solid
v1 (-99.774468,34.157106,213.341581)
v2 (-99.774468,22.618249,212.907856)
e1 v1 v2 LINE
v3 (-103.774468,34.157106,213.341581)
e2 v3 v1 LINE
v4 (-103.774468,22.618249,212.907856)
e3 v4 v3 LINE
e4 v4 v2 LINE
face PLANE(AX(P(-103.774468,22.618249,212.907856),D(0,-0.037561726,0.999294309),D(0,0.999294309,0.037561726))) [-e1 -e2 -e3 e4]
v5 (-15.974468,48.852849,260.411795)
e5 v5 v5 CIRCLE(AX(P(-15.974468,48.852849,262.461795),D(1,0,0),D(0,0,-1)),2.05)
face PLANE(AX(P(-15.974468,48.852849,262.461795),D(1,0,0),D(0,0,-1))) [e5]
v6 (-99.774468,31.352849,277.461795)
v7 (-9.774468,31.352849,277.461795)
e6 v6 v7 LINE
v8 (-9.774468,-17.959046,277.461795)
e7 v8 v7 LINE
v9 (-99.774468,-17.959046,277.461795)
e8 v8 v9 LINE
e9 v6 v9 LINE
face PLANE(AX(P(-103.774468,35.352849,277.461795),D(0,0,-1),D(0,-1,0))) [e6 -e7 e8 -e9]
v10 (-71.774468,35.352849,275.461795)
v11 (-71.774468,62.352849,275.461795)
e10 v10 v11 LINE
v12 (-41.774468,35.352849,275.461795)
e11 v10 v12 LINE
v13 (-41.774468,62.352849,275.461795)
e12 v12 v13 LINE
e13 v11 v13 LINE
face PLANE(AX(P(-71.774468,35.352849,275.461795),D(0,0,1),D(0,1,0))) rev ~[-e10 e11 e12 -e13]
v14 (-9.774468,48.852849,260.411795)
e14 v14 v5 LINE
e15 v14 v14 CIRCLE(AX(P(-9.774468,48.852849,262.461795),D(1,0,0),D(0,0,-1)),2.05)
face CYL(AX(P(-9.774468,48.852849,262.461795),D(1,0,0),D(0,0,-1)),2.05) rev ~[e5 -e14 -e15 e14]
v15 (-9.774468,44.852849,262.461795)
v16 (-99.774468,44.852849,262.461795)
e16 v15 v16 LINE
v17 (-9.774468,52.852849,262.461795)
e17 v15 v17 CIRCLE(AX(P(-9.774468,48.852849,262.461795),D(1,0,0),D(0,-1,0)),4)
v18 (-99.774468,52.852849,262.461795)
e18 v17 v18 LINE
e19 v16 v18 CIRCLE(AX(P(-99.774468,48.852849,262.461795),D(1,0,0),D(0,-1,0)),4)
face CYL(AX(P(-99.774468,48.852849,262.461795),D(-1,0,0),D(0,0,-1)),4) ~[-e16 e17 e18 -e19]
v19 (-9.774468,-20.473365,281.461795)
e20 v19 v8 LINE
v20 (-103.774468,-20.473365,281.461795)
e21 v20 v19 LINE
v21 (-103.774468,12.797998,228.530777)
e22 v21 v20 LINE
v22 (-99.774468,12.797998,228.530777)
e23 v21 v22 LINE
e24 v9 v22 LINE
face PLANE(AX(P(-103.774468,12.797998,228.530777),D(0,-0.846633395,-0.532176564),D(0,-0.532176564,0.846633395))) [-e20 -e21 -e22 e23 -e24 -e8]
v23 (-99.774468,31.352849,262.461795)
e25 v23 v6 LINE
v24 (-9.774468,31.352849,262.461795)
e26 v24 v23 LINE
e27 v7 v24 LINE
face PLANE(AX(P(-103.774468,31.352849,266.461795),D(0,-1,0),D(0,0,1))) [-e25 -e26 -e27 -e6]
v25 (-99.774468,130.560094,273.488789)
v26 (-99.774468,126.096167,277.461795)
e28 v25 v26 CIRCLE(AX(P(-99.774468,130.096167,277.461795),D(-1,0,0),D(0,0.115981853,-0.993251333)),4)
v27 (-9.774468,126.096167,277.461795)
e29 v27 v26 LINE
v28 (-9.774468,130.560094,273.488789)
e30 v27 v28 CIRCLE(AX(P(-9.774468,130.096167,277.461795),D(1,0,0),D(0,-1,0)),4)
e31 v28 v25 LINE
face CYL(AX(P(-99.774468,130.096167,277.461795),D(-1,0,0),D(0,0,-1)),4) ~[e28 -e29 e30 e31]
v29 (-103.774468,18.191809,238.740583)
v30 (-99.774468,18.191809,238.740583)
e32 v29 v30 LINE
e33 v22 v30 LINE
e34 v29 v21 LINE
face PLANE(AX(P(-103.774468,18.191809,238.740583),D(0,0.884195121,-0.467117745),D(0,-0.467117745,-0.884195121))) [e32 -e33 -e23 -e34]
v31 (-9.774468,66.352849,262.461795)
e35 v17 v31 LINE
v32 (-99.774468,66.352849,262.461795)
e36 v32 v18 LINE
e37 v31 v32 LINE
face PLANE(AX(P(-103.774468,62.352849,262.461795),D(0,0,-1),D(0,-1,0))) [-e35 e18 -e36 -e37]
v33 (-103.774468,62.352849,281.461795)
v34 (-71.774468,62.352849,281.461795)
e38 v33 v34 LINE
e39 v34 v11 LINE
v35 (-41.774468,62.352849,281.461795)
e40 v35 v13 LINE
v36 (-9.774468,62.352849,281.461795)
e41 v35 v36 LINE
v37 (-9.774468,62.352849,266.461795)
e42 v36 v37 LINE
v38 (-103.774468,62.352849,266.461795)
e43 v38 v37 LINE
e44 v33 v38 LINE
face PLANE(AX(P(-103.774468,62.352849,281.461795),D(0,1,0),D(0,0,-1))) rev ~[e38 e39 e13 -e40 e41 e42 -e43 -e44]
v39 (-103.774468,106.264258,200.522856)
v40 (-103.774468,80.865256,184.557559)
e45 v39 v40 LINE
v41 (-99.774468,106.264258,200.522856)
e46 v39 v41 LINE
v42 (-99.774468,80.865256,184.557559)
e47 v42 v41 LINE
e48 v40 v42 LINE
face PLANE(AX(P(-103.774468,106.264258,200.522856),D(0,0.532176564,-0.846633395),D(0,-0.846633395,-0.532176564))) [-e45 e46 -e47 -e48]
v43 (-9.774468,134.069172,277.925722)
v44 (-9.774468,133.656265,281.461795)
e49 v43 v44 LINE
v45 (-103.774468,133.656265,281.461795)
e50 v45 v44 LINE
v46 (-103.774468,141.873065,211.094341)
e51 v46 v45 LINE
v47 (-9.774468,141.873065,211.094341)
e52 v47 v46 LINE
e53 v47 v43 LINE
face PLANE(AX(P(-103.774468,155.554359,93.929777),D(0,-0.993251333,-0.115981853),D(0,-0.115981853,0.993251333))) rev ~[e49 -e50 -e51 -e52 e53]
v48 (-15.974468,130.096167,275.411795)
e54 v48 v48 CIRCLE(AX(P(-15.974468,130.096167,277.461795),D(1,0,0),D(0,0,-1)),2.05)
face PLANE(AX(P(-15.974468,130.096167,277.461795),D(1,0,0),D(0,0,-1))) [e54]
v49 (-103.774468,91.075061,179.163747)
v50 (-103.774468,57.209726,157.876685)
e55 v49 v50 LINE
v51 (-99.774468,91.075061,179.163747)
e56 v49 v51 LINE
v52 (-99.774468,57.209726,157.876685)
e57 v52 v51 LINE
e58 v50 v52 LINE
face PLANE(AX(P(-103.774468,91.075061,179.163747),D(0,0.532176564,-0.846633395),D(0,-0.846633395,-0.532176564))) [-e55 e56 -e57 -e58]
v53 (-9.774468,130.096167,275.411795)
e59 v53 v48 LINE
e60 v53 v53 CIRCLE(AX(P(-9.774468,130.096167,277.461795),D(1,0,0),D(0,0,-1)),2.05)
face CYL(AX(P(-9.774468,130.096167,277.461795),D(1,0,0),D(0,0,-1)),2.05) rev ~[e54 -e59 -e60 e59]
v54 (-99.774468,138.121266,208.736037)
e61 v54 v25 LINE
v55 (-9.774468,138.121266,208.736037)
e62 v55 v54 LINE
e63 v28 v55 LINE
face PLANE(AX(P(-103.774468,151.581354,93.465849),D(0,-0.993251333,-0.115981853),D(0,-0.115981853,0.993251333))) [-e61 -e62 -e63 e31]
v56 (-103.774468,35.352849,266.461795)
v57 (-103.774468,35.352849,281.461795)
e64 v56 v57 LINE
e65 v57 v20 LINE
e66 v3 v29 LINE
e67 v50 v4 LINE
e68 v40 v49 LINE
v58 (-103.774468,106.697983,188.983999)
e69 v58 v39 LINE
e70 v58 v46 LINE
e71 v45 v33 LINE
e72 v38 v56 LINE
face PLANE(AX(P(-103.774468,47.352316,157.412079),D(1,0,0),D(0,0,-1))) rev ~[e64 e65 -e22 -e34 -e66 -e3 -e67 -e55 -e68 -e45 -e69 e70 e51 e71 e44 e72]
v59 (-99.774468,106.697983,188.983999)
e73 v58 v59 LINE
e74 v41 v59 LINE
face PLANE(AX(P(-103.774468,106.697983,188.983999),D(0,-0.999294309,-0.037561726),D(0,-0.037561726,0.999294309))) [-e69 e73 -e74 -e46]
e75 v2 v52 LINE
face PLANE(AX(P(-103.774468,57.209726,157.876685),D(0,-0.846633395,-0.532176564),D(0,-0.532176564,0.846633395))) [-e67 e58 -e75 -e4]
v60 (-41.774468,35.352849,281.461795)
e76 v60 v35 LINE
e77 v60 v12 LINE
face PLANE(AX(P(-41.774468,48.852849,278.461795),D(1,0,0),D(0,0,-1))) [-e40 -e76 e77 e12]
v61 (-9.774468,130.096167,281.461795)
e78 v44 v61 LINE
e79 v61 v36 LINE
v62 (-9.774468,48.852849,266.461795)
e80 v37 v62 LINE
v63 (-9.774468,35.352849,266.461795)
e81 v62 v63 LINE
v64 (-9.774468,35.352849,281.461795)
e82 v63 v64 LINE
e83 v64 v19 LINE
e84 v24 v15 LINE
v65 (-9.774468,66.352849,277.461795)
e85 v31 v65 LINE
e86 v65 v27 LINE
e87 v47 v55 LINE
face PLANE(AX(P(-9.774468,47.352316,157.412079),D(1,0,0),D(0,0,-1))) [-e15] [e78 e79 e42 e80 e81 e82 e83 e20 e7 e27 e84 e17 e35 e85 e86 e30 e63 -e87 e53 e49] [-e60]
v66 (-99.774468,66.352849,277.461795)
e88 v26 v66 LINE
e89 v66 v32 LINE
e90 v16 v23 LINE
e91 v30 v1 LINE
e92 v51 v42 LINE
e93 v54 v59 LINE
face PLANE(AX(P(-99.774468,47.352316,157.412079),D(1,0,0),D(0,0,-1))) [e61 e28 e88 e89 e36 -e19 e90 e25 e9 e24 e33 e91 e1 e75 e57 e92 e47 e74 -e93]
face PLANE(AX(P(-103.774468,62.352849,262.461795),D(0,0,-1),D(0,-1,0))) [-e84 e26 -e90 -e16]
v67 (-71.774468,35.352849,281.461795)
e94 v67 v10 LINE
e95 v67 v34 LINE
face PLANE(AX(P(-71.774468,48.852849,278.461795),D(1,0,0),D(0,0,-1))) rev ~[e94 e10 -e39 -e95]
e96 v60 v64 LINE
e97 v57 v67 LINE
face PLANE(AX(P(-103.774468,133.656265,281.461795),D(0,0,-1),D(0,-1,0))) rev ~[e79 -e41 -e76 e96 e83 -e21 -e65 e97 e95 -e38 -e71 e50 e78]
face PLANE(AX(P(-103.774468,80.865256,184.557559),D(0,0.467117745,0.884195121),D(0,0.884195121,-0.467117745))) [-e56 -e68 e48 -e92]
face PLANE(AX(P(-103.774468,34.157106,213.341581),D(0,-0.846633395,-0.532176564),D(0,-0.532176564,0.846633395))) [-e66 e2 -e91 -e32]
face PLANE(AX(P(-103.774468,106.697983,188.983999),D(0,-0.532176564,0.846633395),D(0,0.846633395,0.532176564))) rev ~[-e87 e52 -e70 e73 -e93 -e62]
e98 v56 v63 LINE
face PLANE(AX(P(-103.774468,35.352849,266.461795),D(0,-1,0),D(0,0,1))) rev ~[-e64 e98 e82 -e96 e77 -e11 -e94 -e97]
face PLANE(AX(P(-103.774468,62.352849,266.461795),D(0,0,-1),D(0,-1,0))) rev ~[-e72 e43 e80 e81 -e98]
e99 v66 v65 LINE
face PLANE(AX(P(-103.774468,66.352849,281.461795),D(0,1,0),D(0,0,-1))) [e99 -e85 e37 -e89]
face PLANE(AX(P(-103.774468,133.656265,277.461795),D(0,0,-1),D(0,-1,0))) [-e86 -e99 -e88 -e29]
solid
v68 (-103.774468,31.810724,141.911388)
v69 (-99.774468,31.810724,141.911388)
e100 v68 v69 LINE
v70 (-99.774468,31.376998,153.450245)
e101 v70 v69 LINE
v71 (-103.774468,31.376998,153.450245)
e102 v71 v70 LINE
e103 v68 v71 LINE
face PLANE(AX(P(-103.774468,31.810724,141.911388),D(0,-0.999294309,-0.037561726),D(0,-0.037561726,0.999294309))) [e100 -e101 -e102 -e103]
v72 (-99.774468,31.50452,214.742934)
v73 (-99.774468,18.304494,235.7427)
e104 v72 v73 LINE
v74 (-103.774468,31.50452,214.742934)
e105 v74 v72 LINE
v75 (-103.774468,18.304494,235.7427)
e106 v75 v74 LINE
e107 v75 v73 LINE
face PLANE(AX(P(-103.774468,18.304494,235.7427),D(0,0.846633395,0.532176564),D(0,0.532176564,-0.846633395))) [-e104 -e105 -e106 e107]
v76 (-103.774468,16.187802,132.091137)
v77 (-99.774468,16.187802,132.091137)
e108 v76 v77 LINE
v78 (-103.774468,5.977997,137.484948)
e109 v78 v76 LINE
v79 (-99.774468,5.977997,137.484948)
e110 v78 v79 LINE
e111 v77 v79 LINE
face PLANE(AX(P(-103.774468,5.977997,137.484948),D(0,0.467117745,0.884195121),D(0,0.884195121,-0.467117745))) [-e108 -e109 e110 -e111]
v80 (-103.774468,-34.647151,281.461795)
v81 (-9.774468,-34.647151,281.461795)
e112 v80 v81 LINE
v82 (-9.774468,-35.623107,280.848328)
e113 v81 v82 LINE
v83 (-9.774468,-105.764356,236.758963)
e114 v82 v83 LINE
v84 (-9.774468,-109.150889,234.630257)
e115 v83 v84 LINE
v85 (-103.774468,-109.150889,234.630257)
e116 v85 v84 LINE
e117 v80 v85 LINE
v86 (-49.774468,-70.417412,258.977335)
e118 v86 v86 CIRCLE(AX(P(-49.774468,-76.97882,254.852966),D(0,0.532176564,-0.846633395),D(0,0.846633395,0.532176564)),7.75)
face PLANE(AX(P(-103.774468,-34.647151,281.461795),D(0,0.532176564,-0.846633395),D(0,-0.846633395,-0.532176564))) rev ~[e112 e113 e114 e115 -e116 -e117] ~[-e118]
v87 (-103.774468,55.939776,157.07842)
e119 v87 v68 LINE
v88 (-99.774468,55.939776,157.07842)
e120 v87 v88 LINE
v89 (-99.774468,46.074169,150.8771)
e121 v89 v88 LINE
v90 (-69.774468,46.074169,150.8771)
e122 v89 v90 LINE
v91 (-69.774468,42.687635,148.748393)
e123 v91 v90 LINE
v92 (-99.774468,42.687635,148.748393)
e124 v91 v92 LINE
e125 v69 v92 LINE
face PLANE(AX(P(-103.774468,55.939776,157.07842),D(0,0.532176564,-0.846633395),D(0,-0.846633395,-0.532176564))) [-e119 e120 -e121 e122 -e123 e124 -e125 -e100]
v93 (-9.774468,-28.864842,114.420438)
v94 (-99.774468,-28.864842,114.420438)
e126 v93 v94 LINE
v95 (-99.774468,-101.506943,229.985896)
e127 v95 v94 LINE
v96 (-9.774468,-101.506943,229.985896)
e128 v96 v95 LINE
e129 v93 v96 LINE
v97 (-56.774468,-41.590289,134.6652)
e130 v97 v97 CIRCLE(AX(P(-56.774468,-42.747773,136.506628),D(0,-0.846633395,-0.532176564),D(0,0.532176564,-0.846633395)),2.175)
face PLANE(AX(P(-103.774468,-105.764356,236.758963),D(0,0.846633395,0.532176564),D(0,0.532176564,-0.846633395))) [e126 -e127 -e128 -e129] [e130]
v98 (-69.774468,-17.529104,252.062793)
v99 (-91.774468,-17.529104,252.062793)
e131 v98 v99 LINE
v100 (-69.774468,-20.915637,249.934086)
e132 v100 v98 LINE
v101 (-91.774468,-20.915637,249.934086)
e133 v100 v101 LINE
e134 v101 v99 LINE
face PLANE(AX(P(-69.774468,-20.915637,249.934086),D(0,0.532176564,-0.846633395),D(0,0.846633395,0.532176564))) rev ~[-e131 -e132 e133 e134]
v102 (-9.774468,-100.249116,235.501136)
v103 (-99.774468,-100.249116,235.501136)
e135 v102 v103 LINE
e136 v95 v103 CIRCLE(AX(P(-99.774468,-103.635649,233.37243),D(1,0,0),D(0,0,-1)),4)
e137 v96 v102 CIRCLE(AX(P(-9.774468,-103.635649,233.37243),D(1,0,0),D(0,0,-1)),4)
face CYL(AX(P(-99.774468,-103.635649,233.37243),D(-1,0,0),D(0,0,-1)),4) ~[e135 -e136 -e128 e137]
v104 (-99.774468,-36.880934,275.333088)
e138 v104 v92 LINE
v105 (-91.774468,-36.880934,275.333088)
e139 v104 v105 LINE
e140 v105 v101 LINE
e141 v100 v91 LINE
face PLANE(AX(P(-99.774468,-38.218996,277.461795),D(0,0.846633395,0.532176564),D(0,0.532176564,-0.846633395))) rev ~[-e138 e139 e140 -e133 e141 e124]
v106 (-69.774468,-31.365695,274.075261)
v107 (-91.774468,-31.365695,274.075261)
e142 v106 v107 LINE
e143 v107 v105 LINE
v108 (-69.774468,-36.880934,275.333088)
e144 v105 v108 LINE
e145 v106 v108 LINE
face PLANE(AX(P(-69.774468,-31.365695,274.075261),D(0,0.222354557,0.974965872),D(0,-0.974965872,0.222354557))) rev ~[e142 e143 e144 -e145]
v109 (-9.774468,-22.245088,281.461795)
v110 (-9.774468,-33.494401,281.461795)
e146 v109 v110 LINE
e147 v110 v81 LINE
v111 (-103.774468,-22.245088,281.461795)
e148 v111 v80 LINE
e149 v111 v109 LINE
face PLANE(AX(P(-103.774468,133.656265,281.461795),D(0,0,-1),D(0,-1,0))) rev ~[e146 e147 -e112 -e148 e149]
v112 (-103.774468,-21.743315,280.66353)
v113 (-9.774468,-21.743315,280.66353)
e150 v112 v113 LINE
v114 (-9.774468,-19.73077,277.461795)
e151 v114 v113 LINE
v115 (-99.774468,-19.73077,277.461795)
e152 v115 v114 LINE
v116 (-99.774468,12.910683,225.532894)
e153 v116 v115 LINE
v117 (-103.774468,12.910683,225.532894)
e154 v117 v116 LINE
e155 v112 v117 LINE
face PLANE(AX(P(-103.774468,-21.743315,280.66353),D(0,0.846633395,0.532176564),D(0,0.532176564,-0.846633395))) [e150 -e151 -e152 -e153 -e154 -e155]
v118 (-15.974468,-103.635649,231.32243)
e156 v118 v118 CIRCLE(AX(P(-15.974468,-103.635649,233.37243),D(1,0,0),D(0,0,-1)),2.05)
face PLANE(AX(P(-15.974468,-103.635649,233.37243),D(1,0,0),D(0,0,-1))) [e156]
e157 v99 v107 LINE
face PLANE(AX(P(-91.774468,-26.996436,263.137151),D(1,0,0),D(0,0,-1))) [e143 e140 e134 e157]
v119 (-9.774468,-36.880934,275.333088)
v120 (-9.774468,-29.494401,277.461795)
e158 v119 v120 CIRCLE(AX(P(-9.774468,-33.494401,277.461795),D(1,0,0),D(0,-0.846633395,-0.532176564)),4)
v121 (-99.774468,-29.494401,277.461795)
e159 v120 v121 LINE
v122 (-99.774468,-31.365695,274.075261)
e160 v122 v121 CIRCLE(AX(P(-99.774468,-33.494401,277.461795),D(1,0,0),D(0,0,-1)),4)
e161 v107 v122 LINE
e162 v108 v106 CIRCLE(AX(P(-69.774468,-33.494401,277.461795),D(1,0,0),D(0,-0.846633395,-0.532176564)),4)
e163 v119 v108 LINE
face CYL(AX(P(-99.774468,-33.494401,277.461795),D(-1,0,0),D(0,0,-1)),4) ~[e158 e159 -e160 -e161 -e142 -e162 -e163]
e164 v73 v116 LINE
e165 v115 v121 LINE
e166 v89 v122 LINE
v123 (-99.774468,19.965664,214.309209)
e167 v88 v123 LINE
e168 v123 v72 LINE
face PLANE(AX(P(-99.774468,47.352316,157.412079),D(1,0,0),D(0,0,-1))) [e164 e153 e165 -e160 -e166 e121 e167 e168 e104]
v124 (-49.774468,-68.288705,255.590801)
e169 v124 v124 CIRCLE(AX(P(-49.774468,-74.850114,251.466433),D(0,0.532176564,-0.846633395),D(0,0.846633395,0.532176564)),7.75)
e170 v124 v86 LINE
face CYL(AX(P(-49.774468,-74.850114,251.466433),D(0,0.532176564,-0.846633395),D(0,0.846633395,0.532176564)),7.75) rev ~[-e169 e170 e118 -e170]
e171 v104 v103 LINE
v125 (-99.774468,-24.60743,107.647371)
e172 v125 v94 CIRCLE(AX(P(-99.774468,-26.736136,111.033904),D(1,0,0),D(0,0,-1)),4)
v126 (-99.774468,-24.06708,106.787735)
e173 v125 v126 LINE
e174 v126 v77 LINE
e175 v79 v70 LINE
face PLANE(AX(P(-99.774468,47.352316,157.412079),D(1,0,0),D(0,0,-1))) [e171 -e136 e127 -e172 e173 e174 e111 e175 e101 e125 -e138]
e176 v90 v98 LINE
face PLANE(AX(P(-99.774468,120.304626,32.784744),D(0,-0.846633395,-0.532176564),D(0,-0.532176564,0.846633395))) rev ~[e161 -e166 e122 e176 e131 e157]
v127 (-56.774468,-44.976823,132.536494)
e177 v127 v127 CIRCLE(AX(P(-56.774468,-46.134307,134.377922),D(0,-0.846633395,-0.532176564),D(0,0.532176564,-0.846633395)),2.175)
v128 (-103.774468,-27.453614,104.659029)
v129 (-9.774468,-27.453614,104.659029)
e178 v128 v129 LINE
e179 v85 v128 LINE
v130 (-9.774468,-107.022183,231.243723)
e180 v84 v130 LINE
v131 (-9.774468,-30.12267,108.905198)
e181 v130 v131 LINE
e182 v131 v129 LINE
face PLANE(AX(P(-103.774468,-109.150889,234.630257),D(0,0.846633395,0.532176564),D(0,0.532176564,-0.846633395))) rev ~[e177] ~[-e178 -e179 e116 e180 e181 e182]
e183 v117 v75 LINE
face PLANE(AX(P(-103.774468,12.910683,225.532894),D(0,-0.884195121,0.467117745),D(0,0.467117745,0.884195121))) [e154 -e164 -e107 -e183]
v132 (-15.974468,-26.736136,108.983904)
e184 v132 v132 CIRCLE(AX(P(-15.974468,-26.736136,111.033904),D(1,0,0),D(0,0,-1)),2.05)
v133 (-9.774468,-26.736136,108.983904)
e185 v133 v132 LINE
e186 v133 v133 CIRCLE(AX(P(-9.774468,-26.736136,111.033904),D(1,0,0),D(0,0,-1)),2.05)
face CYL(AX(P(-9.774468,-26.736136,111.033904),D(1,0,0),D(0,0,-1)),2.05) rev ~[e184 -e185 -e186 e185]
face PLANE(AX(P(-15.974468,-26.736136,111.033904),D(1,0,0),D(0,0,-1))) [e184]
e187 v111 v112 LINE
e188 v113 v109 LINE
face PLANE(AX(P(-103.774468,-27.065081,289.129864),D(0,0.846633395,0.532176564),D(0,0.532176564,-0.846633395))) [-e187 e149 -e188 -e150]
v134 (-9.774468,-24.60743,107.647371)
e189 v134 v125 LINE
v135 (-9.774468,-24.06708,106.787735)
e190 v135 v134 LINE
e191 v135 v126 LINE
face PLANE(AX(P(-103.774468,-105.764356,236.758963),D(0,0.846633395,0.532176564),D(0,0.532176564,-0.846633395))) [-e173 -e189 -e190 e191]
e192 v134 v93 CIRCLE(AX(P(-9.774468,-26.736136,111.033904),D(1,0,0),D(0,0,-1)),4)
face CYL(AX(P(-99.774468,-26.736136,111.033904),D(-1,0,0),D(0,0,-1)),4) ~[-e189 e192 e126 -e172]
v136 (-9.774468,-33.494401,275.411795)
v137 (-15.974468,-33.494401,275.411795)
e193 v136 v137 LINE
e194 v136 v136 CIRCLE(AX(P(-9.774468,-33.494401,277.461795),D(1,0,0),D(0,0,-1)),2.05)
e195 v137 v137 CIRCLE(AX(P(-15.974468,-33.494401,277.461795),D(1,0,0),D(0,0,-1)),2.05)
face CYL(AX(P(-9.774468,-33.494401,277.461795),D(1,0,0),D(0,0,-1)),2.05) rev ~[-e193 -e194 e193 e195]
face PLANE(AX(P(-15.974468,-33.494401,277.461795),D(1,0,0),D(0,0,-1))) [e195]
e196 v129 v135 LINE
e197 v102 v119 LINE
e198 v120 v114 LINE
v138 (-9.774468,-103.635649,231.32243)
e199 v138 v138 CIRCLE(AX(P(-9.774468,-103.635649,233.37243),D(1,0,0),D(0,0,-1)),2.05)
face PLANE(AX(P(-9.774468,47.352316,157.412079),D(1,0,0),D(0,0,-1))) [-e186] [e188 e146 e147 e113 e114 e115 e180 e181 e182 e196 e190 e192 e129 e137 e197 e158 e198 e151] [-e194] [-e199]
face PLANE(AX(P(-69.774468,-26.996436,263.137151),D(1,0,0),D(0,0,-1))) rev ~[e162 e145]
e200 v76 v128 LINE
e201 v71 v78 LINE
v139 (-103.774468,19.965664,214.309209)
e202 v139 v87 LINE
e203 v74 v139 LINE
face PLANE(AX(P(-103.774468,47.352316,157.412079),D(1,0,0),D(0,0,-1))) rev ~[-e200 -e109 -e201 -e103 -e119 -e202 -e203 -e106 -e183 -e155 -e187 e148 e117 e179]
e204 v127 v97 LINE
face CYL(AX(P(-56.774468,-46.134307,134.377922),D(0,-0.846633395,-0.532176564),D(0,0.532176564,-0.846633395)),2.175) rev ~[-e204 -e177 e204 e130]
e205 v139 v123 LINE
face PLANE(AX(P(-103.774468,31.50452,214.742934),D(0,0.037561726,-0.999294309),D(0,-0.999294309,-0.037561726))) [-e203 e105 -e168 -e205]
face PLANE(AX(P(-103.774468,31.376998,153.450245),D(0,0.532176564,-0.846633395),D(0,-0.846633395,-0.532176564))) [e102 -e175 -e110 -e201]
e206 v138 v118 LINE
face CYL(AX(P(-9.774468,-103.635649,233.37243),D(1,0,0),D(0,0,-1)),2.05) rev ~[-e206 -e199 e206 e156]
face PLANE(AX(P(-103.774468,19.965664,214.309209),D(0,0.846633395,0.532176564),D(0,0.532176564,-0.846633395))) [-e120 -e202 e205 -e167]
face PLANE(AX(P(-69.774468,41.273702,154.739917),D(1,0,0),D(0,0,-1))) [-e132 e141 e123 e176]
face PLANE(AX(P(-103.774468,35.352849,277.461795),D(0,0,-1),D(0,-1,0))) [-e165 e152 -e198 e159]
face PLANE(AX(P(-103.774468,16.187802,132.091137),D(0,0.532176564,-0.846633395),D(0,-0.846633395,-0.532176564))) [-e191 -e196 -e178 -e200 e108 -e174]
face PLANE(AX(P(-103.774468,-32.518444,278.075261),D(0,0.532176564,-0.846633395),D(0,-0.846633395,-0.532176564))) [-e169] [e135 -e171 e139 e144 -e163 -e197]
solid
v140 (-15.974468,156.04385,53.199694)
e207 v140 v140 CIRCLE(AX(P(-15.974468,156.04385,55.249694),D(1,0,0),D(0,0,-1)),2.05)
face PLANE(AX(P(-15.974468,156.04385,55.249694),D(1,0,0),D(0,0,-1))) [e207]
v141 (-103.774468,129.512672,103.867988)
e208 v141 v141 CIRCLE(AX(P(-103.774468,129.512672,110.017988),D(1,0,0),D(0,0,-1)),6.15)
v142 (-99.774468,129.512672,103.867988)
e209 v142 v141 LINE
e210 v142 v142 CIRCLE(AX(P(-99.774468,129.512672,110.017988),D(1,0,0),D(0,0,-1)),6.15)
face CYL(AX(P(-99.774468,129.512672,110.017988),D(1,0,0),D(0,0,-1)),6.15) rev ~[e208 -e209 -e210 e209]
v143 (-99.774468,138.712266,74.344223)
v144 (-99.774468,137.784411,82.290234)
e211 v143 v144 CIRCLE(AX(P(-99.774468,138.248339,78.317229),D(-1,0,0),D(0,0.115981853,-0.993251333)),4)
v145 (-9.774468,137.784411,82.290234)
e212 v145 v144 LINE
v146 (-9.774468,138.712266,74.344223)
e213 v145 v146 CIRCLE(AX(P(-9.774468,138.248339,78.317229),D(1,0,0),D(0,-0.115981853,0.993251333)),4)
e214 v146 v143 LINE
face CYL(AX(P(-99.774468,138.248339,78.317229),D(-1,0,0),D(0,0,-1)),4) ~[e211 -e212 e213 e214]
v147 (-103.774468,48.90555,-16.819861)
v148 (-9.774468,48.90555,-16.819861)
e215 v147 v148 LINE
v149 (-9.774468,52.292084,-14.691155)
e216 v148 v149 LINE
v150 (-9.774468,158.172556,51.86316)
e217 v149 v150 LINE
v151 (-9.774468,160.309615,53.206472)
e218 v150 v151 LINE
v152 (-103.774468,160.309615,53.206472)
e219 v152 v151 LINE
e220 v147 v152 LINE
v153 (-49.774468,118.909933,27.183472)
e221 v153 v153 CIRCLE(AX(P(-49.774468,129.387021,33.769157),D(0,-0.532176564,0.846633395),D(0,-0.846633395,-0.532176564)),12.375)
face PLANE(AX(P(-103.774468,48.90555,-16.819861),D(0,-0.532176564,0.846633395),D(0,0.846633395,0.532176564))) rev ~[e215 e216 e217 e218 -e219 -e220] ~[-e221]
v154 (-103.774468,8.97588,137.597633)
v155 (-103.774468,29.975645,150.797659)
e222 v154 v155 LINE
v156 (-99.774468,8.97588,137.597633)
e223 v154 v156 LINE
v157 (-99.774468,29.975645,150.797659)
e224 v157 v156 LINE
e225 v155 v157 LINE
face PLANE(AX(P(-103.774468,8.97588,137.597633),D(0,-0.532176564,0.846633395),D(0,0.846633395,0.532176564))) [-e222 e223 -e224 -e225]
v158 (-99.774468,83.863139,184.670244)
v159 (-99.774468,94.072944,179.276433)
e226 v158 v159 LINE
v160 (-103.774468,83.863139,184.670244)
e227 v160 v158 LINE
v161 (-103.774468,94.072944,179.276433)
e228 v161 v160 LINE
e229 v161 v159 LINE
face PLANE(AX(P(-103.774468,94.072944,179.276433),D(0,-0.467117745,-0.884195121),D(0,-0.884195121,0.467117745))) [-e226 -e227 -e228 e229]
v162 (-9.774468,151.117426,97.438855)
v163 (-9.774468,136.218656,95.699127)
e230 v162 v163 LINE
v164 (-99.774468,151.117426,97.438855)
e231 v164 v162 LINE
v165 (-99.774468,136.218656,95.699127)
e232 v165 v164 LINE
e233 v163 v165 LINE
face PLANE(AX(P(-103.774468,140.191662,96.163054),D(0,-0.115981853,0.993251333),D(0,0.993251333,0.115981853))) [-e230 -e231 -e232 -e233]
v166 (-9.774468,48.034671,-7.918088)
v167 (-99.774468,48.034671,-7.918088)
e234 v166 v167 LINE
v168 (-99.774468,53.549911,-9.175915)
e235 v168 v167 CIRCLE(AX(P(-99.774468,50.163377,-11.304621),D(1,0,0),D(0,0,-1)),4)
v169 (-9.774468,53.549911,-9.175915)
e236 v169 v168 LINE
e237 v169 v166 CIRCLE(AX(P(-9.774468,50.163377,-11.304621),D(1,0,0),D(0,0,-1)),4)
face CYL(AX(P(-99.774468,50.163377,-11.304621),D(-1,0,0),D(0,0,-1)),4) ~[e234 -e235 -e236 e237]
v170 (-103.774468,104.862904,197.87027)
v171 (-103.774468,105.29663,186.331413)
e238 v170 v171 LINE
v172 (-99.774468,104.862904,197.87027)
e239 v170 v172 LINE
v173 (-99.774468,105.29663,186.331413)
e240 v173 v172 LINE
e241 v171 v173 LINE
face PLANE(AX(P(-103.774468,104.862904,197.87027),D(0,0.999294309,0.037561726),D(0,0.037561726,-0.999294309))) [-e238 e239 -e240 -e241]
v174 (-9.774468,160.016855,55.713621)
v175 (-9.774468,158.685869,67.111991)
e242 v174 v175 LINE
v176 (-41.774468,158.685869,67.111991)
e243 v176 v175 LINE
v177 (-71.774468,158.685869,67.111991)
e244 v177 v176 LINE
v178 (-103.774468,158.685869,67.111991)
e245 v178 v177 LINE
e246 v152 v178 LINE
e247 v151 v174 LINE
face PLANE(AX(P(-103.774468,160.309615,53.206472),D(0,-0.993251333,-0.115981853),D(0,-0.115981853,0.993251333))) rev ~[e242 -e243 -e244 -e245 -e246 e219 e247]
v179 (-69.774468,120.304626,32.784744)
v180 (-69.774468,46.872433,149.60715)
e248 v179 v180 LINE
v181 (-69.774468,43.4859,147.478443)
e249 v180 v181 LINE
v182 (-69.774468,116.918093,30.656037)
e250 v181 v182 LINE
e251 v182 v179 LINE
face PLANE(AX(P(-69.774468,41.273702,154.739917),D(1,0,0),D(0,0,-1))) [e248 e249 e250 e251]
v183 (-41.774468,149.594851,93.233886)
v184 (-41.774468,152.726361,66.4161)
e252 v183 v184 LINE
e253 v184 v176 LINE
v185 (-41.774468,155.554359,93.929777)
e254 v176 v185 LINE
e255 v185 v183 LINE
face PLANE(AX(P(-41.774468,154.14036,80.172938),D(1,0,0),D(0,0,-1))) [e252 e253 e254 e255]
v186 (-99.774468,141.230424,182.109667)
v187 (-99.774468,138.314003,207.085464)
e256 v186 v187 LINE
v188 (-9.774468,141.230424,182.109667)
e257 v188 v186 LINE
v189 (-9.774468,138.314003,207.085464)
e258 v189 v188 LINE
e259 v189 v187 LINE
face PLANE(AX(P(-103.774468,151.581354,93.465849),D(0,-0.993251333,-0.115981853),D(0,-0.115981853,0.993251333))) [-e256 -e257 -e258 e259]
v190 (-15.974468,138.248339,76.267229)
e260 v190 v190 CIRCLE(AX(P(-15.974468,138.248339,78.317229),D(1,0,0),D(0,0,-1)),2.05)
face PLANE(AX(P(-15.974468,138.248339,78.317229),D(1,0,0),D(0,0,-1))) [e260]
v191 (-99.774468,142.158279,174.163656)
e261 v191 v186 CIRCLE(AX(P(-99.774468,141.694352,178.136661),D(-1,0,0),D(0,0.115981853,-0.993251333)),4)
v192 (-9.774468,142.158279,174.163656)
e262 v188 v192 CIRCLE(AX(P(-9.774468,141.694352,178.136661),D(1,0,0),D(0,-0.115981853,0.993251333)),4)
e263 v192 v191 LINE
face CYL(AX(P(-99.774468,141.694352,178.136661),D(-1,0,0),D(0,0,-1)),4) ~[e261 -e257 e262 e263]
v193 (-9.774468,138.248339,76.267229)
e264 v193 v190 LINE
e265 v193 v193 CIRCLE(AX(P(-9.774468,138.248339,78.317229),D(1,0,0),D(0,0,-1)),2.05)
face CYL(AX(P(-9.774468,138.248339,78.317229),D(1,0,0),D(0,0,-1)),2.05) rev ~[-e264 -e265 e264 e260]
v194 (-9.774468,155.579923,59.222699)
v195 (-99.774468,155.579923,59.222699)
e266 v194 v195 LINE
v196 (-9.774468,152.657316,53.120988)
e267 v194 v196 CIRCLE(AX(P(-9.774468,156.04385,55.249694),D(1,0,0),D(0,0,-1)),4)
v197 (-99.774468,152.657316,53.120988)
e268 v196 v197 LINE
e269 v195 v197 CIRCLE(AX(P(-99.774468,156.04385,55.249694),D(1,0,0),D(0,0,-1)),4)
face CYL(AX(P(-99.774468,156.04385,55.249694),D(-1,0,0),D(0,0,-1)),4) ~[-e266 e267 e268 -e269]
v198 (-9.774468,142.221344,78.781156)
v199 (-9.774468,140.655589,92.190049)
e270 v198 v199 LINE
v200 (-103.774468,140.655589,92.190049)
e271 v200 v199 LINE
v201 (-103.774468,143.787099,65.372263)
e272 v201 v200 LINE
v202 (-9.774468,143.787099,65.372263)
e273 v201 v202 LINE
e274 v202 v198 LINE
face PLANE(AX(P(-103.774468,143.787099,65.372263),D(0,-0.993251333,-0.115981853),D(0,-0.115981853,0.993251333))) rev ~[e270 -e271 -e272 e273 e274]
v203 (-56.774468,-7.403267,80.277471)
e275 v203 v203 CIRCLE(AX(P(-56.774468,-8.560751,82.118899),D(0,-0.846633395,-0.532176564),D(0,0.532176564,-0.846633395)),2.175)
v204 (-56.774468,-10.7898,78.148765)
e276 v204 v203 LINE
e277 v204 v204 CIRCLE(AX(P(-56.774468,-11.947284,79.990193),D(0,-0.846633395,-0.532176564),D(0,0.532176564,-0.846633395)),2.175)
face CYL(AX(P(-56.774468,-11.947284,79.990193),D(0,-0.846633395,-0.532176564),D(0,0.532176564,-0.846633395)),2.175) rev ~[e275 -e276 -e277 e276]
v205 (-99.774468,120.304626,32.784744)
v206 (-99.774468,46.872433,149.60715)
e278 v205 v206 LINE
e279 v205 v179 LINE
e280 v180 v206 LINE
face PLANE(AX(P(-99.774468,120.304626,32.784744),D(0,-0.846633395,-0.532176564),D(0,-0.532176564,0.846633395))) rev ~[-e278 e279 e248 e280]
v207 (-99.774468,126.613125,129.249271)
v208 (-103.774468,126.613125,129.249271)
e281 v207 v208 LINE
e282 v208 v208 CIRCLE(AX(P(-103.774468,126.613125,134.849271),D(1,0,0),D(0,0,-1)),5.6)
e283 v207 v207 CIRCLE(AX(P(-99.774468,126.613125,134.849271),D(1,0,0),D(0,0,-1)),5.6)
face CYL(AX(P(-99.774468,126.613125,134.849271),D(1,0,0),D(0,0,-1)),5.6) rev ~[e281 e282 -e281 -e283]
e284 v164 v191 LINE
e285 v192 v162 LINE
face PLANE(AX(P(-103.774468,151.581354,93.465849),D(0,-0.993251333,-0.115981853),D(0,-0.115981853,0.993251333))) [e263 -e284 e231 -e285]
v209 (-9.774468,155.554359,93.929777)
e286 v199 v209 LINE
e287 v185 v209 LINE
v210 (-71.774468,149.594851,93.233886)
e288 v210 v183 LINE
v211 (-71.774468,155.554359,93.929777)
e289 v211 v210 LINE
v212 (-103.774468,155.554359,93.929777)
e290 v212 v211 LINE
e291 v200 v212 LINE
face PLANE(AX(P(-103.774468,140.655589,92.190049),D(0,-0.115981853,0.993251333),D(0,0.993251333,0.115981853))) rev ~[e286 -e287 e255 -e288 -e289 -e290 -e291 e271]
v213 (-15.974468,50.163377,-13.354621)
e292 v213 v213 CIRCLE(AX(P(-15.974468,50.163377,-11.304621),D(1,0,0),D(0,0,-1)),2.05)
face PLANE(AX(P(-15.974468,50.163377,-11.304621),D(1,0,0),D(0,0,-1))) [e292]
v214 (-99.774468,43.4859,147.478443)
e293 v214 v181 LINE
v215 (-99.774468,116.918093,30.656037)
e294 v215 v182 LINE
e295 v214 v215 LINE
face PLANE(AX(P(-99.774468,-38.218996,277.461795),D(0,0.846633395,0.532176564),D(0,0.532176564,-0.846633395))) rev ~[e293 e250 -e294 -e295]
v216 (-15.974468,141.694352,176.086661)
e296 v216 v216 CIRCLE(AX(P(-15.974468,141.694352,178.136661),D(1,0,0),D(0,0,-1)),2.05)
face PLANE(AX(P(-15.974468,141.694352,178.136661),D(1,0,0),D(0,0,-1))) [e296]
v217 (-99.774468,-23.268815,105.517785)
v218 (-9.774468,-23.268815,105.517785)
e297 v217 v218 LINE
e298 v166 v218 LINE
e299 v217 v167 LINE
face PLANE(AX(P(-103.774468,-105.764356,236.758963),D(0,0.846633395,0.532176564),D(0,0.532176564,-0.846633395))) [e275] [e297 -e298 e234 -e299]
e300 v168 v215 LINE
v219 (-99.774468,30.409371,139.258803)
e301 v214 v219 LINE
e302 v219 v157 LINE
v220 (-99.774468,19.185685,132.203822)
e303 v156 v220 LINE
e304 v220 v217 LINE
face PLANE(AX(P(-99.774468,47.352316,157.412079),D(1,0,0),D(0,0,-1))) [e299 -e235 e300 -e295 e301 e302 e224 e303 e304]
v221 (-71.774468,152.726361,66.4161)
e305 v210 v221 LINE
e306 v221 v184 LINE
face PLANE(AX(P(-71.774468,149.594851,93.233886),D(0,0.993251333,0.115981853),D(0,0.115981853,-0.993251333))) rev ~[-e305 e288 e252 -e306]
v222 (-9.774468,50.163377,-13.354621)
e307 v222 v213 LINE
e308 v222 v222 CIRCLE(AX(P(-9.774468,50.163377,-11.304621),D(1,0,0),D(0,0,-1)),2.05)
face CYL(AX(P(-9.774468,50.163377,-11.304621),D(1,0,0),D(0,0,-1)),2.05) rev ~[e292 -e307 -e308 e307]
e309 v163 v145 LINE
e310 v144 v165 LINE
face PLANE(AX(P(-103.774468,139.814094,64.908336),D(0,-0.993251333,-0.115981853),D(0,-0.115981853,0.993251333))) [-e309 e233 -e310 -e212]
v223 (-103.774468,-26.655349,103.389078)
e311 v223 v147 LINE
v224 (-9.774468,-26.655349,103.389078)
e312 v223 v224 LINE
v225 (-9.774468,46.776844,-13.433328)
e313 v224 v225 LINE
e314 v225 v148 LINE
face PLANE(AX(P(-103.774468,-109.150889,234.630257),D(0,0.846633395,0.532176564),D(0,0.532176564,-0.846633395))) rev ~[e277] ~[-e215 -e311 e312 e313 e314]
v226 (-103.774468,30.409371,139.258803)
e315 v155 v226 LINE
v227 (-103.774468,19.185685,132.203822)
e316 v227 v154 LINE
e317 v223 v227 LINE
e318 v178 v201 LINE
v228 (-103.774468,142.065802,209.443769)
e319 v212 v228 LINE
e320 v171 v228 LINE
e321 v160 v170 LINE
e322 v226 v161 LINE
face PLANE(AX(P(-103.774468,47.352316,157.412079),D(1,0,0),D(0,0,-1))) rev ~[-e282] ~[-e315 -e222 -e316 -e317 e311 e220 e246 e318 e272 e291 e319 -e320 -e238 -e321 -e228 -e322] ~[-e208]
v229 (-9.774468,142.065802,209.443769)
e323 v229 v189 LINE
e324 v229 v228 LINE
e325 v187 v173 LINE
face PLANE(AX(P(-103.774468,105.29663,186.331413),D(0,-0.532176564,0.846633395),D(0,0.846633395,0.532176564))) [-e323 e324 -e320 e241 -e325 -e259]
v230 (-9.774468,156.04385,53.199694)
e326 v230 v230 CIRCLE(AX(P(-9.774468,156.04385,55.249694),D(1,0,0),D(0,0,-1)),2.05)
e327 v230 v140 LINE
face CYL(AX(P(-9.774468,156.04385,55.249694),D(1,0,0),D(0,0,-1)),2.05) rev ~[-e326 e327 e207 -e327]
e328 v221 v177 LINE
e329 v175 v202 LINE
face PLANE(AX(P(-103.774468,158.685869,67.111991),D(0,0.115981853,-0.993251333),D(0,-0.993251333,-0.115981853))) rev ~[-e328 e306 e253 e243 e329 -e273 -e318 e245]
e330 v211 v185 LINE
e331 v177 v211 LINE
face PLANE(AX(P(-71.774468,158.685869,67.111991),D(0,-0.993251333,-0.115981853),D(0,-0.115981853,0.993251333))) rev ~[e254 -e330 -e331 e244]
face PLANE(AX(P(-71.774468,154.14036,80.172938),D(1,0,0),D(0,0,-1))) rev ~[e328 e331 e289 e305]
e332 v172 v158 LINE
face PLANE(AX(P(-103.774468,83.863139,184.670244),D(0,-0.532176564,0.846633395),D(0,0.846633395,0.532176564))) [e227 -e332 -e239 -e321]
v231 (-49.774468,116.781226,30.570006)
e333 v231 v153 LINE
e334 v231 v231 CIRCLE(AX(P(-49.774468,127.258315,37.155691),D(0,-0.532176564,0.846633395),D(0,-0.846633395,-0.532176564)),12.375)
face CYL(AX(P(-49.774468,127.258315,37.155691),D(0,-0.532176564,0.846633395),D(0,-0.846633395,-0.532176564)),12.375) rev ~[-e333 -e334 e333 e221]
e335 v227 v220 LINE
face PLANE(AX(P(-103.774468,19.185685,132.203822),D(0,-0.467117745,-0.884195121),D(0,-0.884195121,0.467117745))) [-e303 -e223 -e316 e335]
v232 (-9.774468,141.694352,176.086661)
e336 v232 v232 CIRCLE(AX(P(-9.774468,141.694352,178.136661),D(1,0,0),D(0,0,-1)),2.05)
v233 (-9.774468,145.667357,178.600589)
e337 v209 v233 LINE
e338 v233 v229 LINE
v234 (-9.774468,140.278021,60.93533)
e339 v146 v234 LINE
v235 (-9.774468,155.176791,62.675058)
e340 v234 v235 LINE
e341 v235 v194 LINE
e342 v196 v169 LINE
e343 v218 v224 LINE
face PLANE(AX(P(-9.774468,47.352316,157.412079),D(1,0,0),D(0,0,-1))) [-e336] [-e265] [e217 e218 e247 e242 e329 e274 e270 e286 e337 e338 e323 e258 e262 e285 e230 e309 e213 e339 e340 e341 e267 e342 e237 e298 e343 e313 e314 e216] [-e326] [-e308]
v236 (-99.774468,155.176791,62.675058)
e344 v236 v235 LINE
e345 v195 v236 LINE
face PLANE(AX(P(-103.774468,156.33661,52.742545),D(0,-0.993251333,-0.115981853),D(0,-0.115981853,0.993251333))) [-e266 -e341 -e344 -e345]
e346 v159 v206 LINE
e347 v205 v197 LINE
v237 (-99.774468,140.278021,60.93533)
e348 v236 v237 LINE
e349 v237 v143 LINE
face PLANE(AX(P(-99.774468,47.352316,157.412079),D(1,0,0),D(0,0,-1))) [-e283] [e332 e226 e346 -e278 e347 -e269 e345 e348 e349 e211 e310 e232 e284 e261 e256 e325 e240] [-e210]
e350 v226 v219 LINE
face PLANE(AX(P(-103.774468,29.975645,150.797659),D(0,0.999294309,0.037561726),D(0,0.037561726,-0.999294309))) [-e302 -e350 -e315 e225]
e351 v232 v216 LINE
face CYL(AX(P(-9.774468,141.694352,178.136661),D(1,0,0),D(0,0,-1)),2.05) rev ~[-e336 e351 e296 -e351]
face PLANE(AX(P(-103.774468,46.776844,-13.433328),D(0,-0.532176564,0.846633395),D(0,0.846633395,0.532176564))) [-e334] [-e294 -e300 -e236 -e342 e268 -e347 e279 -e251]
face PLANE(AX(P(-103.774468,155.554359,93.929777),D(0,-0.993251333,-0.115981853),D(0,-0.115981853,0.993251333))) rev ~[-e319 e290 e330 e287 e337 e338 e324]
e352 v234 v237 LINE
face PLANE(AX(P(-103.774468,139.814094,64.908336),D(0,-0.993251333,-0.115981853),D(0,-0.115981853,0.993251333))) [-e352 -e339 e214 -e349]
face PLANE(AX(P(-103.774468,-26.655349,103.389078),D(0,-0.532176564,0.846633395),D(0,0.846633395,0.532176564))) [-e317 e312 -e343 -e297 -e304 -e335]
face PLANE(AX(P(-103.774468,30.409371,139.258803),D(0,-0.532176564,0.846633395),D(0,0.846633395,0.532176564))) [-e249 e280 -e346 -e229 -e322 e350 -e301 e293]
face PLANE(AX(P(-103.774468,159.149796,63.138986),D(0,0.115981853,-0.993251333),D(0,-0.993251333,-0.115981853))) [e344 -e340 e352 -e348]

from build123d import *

# Parameters (mm, degrees)
BOSS_EXTRUDE1_DEPTH      = 47
BOSS_EXTRUDE1_DEPTH_BACK = 47
SHELL2_T                 = -4
BOSS_EXTRUDE2_DEPTH      = 30
SKETCH3_R                = 2.175
CUT_EXTRUDE1_DEPTH       = 4
BOSS_EXTRUDE3_DEPTH      = 15
BOSS_EXTRUDE3_DEPTH_BACK = 15
SKETCH4_W                = 6
SKETCH4_H                = 27
SKETCH5_R                = 4
BOSS_EXTRUDE4_DEPTH      = 90
SKETCH8_R                = 2.05
CUT_EXTRUDE2_DEPTH       = 6.2
CUT_EXTRUDE3_DEPTH       = 22
SKETCH11_R               = 12.375
CUT_EXTRUDE4_DEPTH       = 4
SKETCH13_R               = 6.15
SKETCH13_R_2             = 5.6
CUT_EXTRUDE5_DEPTH       = 4
SKETCH14_R               = 7.75
CUT_EXTRUDE6_DEPTH       = 4
CUT_EXTRUDE_THIN1_DEPTH  = 338.277207123


with BuildPart() as part:
    # Sketch1 → Boss-Extrude1 (new, two sides: drawn at the far end of the back side and taken through both)
    with BuildSketch(Plane(origin=(-56.774468418, 0, 0), x_dir=(0, 0, -1), z_dir=(1, 0, 0)).offset(-BOSS_EXTRUDE1_DEPTH_BACK)):
        Polygon((-234.630256956, -109.15088932), (16.819861226, 48.905550176), (-53.206472208, 160.309614915), (-67.111990866, 158.685868975), (-65.372263073, 143.787098985), (-92.190049054, 140.655588958), (-93.929776847, 155.554358948), (-281.461794585, 133.656265111), (-281.461794585, 62.352849401), (-266.461794585, 62.352849401), (-266.461794585, 35.352849401), (-281.461794585, 35.352849401), (-281.461794585, -34.647150599), align=None)
    extrude(amount=BOSS_EXTRUDE1_DEPTH + BOSS_EXTRUDE1_DEPTH_BACK)

    # Shell2
    shell2_openings = [part.faces().sort_by_distance(p)[0] for p in [
        (-9.774468418, 45.163408996, 157.760469451),
    ]]
    offset(amount=SHELL2_T, openings=shell2_openings, kind=Kind.INTERSECTION)

    # Sketch2 → Boss-Extrude2 (add)
    with BuildSketch(Plane(origin=(-99.774468418, 0, 0), x_dir=(0, 0, -1), z_dir=(1, 0, 0))):
        Polygon((-277.461794585, -33.49440081), (-277.461794585, -38.218995925), (-30.656037303, 116.918092596), (-32.784743559, 120.304626174), align=None)
    extrude(amount=BOSS_EXTRUDE2_DEPTH)

    # Sketch3 → Cut-Extrude1 (cut)
    with BuildSketch(Plane(origin=(0, 27.476586006, 17.27122415), x_dir=(1, 0, 0), z_dir=(0, -0.846633394553322, -0.5321765639589169))):
        with Locations(Location((-56.774468418, 138.320432901, 0), (0, 0, 270))):
            Circle(SKETCH3_R)
        with Locations(Location((-56.774468418, 74.080432901, 0), (0, 0, 270))):
            Circle(SKETCH3_R)
    extrude(amount=-CUT_EXTRUDE1_DEPTH, mode=Mode.SUBTRACT)

    # Sketch4 → Boss-Extrude3 (add, two sides: drawn at the far end of the back side and taken through both)
    with BuildSketch(Plane(origin=(-56.774468418, 0, 0), x_dir=(0, 0, -1), z_dir=(1, 0, 0)).offset(-BOSS_EXTRUDE3_DEPTH_BACK)):
        with Locations((-278.461794585, 48.852849401)):
            Rectangle(SKETCH4_W, SKETCH4_H)
        Polygon((-93.929776847, 155.554358948), (-93.23388573, 149.594850952), (-66.416099748, 152.726360979), (-67.111990866, 158.685868975), align=None)
    extrude(amount=BOSS_EXTRUDE3_DEPTH + BOSS_EXTRUDE3_DEPTH_BACK)

    # Sketch5 → Boss-Extrude4 (add)
    with BuildSketch(Plane(origin=(-99.774468418, 0, 0), x_dir=(0, 0, -1), z_dir=(1, 0, 0))):
        with Locations((-277.461794585, -33.49440081)):
            Circle(SKETCH5_R)
        with Locations((11.304621392, 50.163377498)):
            Circle(SKETCH5_R)
        with Locations((-233.372429634, -103.635649486)):
            Circle(SKETCH5_R)
        with Locations((-277.461794585, 130.096166602)):
            Circle(SKETCH5_R)
        with Locations((-55.249694114, 156.043850024)):
            Circle(SKETCH5_R)
        with Locations((-178.13666132, 141.694351887)):
            Circle(SKETCH5_R)
        with Locations((-262.461794585, 48.852849401)):
            Circle(SKETCH5_R)
        with Locations((-78.317228652, 138.248338641)):
            Circle(SKETCH5_R)
        with Locations((-111.033904121, -26.736135994)):
            Circle(SKETCH5_R)
    extrude(amount=BOSS_EXTRUDE4_DEPTH)

    # Sketch8 → Cut-Extrude2 (cut)
    with BuildSketch(Plane(origin=(-9.774468418, 0, 0), x_dir=(0, 0, -1), z_dir=(1, 0, 0))):
        with Locations((-262.461794585, 48.852849401)):
            Circle(SKETCH8_R)
        with Locations((-277.461794585, -33.49440081)):
            Circle(SKETCH8_R)
        with Locations((-233.372429634, -103.635649486)):
            Circle(SKETCH8_R)
        with Locations((-111.033904121, -26.736135994)):
            Circle(SKETCH8_R)
        with Locations((11.304621392, 50.163377498)):
            Circle(SKETCH8_R)
        with Locations((-55.249694114, 156.043850024)):
            Circle(SKETCH8_R)
        with Locations((-78.317228652, 138.248338641)):
            Circle(SKETCH8_R)
        with Locations((-178.13666132, 141.694351887)):
            Circle(SKETCH8_R)
        with Locations((-277.461794585, 130.096166602)):
            Circle(SKETCH8_R)
    extrude(amount=-CUT_EXTRUDE2_DEPTH, mode=Mode.SUBTRACT)

    # Sketch10 → Cut-Extrude3 (cut)
    with BuildSketch(Plane(origin=(-69.774468418, 0, 0), x_dir=(0, 0, -1), z_dir=(1, 0, 0))):
        Polygon((-249.934086492, -20.91563747), (-252.062792748, -17.529103892), (-274.075261007, -31.365694554), (-275.333088329, -36.880934389), align=None)
    extrude(amount=-CUT_EXTRUDE3_DEPTH, mode=Mode.SUBTRACT)

    # Sketch11 → Cut-Extrude4 (cut)
    with BuildSketch(Plane(origin=(0, 19.300257914, -30.704551798), x_dir=(1, 0, 0), z_dir=(0, -0.5321765639589167, 0.8466333945533221))):
        with Locations(Location((-49.774468418, 127.514526818, 0), (0, 0, 270))):
            Circle(SKETCH11_R)
    extrude(amount=-CUT_EXTRUDE4_DEPTH, mode=Mode.SUBTRACT)

    # Sketch13 → Cut-Extrude5 (cut)
    with BuildSketch(Plane(origin=(-99.774468418, 0, 0), x_dir=(0, 0, -1), z_dir=(1, 0, 0))):
        with Locations((-110.017987699, 129.51267176)):
            Circle(SKETCH13_R)
        with Locations((-134.849271015, 126.613125439)):
            Circle(SKETCH13_R_2)
    extrude(amount=-CUT_EXTRUDE5_DEPTH, mode=Mode.SUBTRACT)

    # Sketch14 → Cut-Extrude6 (cut)
    with BuildSketch(Plane(origin=(0, -134.49876907, 213.972499228), x_dir=(-1, 0, 0), z_dir=(0, 0.5321765639589167, -0.8466333945533221))):
        with Locations(Location((49.774468418, 70.453936004, 0), (0, 0, 90))):
            Circle(SKETCH14_R)
    extrude(amount=-CUT_EXTRUDE6_DEPTH, mode=Mode.SUBTRACT)

    # Sketch16 → Cut-Extrude-Thin1 (cut, through all)
    with BuildSketch(Plane.ZY.offset(103.774468418)):
        Polygon((216.416106978, 150.339399115), (211.094341338, 141.873065169), (188.98399877, 106.697982968), (200.52285554, 106.264257511), (184.557558621, 80.865255674), (179.1637475, 91.075061496), (141.911388023, 31.810723877), (153.450244793, 31.37699842), (137.484947875, 5.977996584), (132.091136754, 16.187802406), (104.659028546, -27.453613741), (99.337262907, -35.919947687), (98.067312815, -35.121682841), (103.389078454, -26.655348895), (132.203821933, 19.185685334), (137.597633054, 8.975879512), (150.797659431, 29.975645184), (139.25880266, 30.409370641), (179.27643268, 94.072944424), (184.670243801, 83.863138602), (197.870270177, 104.862904274), (186.331413407, 105.296629731), (209.824391246, 142.671330015), (215.146156886, 151.137663961), align=None)
        Polygon((157.876684942, 57.209725714), (212.907855588, 22.618249057), (213.341581045, 34.157105827), (238.740582882, 18.191808908), (228.53077706, 12.797997787), (281.461794585, -20.473365255), (289.92812853, -25.795130894), (289.129863684, -27.065080986), (280.663529739, -21.743315346), (225.532894132, 12.910682966), (235.742699954, 18.304494087), (214.742934281, 31.504520464), (214.309208824, 19.965663694), (157.078420096, 55.939775622), align=None)
    extrude(amount=-CUT_EXTRUDE_THIN1_DEPTH, mode=Mode.SUBTRACT)


with BuildPart() as cut_extrude_thin1_piece_1:
    # of the separate pieces the step leaves, piece 1, a body of its own (cut_extrude_thin1_pieces)
    add(part.part.solids().sort_by_distance((-103.774468418, -26.655348895, 103.389078454))[0])


with BuildPart() as cut_extrude_thin1_piece_2:
    # of the separate pieces the step leaves, piece 2, a body of its own (cut_extrude_thin1_pieces)
    add(part.part.solids().sort_by_distance((-9.774468418, -109.15088932, 234.630256956))[0])


with BuildPart() as cut_extrude_thin1_piece_3:
    # of the separate pieces the step leaves, piece 3, a body of its own (cut_extrude_thin1_pieces)
    add(part.part.solids().sort_by_distance((-103.774468418, 35.352849401, 281.461794585))[0])


solid = Compound([cut_extrude_thin1_piece_1.part, cut_extrude_thin1_piece_2.part, cut_extrude_thin1_piece_3.part])
